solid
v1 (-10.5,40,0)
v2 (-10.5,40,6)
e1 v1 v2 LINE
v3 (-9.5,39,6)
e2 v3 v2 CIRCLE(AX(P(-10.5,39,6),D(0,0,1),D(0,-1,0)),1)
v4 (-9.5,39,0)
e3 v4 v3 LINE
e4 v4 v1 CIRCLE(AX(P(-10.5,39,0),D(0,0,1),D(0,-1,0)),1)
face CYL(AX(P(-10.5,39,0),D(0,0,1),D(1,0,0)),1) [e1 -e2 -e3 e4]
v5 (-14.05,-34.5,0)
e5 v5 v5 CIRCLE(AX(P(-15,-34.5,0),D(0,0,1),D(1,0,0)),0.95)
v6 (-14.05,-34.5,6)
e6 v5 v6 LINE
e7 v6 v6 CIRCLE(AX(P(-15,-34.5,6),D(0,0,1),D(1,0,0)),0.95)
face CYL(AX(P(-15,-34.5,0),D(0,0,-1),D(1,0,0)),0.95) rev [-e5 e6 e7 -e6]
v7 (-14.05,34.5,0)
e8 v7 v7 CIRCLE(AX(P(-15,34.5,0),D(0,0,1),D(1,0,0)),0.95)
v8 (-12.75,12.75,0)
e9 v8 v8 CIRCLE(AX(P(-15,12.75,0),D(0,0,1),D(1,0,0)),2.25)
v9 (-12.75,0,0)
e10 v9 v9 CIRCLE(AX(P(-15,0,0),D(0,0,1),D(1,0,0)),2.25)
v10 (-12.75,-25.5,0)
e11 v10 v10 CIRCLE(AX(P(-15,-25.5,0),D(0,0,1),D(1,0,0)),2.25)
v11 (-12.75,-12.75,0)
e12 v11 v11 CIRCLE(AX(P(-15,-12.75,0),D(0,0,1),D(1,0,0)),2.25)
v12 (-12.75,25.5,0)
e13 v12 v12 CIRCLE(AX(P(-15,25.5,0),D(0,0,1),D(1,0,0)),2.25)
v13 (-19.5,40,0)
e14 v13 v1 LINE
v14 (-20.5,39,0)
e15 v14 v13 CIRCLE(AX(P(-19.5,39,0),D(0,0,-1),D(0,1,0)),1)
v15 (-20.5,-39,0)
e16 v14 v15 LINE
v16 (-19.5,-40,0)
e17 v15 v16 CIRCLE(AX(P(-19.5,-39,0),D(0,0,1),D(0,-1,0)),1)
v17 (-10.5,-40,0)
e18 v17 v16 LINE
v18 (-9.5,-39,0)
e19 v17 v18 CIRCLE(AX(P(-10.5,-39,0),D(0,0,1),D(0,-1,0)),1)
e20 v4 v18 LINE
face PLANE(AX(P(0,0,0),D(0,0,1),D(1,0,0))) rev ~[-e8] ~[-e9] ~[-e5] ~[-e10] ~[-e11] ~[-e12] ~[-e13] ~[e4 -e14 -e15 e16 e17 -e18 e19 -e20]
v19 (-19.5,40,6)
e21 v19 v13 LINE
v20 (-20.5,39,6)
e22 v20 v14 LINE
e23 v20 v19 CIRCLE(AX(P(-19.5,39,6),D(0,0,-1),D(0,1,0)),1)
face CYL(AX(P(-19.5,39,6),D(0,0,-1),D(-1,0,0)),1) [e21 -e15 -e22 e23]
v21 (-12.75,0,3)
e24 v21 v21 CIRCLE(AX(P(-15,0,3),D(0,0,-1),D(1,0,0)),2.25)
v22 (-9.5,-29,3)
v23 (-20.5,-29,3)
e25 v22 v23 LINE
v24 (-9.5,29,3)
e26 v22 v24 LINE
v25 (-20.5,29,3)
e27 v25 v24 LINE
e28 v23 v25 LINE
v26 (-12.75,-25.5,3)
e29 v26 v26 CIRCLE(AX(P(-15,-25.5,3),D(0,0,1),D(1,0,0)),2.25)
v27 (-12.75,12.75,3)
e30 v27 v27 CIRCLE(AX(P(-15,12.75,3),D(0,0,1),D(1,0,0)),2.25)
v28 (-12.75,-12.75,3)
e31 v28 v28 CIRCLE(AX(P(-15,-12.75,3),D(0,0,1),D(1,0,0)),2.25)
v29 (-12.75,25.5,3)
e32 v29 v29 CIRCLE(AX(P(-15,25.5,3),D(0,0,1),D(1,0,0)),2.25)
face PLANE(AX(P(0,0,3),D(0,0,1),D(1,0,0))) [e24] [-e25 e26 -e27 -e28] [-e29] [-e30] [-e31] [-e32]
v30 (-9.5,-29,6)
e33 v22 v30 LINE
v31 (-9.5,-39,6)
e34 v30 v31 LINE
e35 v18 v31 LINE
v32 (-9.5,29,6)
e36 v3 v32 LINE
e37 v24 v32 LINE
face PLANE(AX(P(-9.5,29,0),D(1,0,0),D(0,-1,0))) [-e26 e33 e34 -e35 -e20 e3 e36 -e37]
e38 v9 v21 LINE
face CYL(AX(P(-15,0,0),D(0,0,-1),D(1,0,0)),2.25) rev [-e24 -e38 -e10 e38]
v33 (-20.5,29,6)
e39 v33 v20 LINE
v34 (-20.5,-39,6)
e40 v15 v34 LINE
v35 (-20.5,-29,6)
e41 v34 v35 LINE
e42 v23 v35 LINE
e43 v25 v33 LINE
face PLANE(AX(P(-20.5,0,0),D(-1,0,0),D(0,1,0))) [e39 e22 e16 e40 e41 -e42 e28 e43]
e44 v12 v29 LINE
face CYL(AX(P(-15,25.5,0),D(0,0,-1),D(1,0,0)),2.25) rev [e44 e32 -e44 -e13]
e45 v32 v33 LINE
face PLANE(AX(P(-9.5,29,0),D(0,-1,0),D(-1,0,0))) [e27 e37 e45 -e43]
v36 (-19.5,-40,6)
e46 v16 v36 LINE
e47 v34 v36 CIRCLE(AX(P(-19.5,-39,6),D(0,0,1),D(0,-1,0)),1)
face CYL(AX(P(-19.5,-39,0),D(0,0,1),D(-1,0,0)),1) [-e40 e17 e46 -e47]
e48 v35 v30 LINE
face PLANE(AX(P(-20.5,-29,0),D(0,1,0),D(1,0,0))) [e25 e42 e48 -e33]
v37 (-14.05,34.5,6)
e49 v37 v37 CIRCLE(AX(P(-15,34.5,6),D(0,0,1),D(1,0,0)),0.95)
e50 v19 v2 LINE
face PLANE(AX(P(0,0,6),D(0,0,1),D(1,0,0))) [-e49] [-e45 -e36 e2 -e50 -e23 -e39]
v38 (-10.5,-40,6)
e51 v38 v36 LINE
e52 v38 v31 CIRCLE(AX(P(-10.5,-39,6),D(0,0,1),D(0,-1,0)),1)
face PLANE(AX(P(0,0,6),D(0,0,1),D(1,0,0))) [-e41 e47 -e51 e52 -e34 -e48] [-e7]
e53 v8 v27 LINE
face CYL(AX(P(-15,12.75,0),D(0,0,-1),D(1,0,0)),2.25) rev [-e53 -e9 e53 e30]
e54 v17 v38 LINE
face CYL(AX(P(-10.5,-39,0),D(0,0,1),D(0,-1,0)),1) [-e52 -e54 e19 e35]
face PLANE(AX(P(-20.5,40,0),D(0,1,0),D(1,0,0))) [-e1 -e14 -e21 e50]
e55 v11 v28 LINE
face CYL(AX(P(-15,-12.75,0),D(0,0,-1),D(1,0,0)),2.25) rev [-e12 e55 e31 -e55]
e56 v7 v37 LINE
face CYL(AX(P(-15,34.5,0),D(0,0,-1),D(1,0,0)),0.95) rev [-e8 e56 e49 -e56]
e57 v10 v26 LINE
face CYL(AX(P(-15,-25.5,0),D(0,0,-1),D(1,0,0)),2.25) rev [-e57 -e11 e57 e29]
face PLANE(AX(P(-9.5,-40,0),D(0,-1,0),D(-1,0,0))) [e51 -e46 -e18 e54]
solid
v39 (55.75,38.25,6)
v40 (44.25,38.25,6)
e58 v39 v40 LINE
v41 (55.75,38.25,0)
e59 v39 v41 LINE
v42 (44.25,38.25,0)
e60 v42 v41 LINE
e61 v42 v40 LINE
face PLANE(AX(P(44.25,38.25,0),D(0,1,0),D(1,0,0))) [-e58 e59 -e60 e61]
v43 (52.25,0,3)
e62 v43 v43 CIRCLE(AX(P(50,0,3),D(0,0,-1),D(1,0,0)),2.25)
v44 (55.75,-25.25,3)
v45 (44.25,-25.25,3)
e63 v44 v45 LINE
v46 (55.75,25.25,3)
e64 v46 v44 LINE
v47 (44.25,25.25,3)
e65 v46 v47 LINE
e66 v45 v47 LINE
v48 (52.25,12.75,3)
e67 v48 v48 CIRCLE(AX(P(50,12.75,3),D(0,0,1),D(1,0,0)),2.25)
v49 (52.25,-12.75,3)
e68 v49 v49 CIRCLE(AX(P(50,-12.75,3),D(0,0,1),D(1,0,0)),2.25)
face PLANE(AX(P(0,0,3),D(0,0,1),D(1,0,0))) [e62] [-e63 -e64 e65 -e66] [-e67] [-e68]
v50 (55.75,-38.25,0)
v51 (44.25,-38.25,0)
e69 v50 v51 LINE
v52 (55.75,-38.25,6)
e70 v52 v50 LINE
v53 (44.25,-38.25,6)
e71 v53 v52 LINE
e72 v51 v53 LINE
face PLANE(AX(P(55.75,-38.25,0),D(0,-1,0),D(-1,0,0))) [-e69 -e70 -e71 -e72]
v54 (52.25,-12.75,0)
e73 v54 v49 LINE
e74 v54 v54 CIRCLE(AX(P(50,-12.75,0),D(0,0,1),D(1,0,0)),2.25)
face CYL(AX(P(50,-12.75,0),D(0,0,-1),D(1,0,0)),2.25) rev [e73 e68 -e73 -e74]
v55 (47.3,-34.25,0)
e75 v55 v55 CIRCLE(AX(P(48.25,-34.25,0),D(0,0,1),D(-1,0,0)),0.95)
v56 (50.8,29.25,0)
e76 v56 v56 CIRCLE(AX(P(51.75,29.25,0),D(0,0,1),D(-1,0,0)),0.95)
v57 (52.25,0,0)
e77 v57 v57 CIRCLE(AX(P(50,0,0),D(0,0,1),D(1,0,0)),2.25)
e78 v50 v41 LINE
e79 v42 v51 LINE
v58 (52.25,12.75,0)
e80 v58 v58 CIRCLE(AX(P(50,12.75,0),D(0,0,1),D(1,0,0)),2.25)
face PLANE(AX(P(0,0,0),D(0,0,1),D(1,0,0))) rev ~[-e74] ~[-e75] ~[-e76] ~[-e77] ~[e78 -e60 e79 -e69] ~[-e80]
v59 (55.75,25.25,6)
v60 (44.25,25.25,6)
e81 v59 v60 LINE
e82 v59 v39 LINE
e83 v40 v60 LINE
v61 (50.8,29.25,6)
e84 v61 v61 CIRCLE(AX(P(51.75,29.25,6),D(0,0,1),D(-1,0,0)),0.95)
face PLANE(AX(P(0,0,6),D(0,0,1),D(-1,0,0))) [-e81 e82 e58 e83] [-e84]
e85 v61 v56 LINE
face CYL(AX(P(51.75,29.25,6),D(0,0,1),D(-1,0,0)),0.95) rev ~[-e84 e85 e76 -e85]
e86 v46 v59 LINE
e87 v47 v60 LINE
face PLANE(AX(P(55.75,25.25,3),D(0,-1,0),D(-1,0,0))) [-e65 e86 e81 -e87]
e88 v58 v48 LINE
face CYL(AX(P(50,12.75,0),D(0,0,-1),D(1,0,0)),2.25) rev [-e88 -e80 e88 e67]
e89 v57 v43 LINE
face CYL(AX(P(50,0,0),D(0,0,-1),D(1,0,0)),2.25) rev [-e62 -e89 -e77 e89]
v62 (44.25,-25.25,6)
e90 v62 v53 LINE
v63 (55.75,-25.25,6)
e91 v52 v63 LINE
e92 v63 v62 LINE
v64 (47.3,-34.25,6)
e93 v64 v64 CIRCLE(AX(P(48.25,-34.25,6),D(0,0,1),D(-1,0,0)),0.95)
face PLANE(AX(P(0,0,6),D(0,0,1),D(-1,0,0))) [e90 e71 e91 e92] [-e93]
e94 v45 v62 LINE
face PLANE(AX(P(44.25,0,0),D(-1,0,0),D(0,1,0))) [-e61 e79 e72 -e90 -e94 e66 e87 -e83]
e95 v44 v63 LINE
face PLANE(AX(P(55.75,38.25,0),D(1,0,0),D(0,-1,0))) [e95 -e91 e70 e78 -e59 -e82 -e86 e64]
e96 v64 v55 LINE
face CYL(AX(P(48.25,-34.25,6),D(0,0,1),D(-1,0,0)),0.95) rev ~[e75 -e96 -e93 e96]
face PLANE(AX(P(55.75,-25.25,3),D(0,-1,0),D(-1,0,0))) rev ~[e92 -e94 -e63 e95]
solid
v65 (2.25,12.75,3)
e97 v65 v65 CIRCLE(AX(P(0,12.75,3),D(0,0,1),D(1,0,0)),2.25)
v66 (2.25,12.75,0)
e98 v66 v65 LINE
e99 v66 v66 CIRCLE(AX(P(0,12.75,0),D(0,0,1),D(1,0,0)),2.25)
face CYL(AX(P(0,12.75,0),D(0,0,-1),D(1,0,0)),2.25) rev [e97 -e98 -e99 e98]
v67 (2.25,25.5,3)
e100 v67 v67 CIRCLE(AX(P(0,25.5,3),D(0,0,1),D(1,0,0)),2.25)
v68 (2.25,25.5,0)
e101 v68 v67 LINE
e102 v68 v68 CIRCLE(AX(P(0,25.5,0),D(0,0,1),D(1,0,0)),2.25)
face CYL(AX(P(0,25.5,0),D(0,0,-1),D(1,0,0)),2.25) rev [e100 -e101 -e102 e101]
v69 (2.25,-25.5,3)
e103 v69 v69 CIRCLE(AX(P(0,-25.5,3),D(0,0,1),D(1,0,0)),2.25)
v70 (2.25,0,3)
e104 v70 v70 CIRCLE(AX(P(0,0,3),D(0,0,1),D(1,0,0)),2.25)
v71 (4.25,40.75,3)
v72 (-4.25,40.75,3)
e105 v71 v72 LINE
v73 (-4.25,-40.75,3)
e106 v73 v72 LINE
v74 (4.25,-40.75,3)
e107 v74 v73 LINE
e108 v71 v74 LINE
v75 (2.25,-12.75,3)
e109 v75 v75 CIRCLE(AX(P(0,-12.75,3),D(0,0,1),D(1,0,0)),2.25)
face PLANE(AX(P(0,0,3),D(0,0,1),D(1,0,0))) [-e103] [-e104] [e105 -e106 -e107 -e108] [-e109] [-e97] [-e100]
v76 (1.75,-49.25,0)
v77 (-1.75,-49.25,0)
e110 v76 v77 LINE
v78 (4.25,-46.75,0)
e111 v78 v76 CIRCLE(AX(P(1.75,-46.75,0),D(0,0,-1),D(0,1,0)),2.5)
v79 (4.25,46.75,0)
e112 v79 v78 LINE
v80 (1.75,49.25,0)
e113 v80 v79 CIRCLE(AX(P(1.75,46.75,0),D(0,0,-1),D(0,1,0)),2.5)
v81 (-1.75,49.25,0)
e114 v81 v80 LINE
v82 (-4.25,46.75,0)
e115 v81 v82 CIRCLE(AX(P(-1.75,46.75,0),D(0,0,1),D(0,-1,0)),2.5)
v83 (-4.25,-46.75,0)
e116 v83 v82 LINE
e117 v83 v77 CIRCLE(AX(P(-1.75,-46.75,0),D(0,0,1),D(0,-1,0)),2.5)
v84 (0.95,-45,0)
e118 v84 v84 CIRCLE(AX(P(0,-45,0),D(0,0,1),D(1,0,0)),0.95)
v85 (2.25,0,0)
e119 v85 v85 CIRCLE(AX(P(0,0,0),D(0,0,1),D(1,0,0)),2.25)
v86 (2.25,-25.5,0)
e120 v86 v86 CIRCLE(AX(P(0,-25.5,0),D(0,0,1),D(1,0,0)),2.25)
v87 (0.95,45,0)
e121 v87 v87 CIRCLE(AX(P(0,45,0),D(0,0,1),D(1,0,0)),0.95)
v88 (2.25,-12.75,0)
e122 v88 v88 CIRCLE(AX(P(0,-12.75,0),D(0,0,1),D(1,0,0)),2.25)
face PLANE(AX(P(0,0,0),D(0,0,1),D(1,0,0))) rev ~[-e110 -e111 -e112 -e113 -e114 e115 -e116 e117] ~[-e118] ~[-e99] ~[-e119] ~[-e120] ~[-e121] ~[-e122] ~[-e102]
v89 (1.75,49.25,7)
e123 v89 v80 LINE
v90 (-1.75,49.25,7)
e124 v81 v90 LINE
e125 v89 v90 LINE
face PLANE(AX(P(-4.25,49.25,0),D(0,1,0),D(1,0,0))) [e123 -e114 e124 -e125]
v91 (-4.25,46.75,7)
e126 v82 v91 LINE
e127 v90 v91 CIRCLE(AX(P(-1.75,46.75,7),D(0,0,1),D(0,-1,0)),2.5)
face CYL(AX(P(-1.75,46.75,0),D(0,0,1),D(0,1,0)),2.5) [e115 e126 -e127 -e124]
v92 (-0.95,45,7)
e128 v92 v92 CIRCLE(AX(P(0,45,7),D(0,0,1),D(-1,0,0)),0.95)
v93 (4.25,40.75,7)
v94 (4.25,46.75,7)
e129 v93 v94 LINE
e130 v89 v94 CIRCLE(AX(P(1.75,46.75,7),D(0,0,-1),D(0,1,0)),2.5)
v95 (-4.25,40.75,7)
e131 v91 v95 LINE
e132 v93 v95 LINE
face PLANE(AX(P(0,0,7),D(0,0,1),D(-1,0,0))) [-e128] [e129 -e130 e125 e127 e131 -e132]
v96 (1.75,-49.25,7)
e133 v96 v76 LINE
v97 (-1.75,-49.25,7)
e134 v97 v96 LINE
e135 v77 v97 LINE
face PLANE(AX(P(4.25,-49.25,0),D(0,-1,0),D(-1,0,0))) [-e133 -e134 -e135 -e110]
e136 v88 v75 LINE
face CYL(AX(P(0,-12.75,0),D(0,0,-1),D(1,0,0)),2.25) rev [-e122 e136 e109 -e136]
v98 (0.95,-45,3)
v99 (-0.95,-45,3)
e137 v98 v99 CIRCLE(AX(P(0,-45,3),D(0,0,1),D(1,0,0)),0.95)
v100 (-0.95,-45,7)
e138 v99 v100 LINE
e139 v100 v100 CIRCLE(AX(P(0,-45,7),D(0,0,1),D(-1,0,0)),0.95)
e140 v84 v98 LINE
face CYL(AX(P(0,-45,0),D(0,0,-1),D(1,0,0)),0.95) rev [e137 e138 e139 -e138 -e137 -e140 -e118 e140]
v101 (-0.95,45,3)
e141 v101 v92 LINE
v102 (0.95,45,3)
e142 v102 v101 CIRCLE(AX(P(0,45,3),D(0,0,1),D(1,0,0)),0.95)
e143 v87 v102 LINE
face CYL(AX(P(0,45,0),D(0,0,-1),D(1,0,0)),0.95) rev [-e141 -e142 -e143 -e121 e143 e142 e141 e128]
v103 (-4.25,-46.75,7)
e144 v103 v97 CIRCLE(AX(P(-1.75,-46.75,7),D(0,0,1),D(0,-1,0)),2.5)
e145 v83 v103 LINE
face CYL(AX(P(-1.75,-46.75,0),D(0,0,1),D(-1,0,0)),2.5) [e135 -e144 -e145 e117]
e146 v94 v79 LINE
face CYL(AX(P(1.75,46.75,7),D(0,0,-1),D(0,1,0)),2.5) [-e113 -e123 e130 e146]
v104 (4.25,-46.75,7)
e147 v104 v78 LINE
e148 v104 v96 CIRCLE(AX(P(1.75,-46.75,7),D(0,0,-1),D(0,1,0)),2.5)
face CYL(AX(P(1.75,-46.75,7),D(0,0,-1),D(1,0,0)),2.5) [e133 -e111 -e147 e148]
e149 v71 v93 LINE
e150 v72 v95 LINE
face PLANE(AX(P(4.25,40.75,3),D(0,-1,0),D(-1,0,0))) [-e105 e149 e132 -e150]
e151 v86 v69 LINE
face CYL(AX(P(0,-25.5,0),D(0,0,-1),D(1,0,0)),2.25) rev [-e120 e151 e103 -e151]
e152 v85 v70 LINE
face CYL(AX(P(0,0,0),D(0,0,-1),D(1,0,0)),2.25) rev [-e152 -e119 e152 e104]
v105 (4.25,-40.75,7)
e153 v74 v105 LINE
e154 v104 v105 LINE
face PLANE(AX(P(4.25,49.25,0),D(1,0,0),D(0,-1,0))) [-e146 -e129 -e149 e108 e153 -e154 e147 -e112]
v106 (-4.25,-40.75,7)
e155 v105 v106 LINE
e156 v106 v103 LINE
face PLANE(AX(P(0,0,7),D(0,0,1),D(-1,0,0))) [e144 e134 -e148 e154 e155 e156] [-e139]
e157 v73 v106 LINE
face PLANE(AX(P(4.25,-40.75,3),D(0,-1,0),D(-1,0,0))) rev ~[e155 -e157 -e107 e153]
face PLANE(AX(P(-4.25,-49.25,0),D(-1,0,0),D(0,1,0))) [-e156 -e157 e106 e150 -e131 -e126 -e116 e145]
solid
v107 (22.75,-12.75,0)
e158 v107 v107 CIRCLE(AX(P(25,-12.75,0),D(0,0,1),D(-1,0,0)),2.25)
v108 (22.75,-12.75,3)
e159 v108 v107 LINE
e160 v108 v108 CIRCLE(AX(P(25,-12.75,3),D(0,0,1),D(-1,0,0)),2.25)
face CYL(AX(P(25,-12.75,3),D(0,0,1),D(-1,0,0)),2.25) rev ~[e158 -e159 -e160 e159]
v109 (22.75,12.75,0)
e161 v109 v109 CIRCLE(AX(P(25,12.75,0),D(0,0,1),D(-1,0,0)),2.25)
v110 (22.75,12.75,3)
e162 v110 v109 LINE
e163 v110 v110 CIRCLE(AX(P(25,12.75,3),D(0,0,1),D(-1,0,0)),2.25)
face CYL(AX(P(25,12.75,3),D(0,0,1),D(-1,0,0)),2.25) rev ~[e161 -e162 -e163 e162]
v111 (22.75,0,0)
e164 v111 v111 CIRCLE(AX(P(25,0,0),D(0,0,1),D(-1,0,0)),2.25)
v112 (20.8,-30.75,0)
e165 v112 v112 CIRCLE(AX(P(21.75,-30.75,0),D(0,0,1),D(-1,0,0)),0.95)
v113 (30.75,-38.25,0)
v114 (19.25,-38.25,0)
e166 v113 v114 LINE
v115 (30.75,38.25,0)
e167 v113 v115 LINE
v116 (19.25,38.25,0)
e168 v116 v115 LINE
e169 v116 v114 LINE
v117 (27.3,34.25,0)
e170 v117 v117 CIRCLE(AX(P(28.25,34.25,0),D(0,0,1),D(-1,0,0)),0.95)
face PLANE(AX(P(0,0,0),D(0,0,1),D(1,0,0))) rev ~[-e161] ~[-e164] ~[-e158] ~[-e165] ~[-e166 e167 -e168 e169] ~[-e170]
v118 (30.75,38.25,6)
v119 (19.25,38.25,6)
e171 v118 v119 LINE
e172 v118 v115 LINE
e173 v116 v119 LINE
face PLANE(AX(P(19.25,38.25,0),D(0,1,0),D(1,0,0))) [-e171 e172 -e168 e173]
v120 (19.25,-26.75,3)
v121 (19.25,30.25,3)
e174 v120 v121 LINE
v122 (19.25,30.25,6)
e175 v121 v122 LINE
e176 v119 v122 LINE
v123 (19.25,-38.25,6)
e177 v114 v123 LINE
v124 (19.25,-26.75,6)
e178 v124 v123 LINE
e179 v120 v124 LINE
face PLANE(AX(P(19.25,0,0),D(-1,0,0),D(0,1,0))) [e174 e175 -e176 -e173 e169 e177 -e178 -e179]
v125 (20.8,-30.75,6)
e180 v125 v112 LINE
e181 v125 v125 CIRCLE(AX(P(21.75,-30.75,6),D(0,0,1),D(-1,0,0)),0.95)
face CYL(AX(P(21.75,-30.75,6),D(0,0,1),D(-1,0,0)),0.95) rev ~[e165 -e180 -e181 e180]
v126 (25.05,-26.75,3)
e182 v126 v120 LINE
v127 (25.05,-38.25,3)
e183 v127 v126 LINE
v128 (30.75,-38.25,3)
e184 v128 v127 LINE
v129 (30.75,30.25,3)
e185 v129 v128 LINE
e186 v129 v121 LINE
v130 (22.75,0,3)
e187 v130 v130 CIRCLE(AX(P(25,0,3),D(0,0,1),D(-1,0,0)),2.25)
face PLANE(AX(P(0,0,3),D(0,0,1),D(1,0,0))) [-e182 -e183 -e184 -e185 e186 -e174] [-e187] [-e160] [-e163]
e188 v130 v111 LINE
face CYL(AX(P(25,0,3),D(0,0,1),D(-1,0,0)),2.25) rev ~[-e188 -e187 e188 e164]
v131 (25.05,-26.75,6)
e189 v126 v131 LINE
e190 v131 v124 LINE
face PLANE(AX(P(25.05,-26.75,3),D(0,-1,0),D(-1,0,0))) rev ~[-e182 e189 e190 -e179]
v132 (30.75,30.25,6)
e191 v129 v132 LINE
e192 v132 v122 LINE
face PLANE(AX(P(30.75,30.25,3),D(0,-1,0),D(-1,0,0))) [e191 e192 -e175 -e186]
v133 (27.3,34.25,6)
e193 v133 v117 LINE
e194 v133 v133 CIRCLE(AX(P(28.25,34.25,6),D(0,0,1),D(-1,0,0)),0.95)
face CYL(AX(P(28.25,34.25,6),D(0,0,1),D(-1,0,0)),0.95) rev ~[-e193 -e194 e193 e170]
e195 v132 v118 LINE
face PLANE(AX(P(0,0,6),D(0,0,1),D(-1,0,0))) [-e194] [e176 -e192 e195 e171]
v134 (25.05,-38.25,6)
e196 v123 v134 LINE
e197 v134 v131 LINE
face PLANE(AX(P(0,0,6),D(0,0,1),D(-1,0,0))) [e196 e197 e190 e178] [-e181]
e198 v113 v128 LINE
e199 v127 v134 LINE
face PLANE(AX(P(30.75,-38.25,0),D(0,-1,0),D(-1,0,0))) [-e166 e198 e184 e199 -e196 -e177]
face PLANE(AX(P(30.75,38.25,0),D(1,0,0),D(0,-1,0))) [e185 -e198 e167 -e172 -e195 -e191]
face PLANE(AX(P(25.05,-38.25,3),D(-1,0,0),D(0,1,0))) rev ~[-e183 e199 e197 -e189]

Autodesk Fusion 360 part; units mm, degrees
sketch "Sketch1" plane through (0, 0, 0) normal (0, 0, 1) x (1, 0, 0) in component "CCM Dual Ethernet v2.a"
  circle A0 centre (0, 45) radius 0.95
  circle A1 centre (0, 0) radius 2.25
  line L0 (-56, 0) -> (64, 0) construction
  circle A2 centre (0, -45) radius 0.95
  line L1 (-4.25, 49.25) -> (4.25, 49.25)
  line L2 (4.25, 49.25) -> (4.25, -49.25)
  line L3 (4.25, -49.25) -> (-4.25, -49.25)
  line L4 (-4.25, -49.25) -> (-4.25, 49.25)
  circle A3 centre (0, -25.5) radius 2.25
  circle A4 centre (0, -12.75) radius 2.25
  circle A5 centre (0, 12.75) radius 2.25
  circle A6 centre (0, 25.5) radius 2.25
  dimension "d3" = 1.9
  dimension "d4" = 4.5
  dimension "d5" = 45
  dimension "d6" = 4.25
  dimension "d8" = 4.25
  dimension "d9" = 4.25
  dimension "d10" = 4.25
  dimension "d14" = 0
  dimension "d15" = 12.75
extrude "Extrude1" add sketch "Sketch1" along normal blind 3 makes body 1 in component "CCM Dual Ethernet v2.a"
sketch "Sketch2" plane through (0, 0, 3) normal (0, 0, 1) x (-1, 0, 0) in component "CCM Dual Ethernet v2.a"
  circle A0 centre (0, -25.5) radius 2.25
  circle A1 centre (0, -12.75) radius 2.25
  circle A2 centre (0, 12.75) radius 2.25
  circle A3 centre (0, 0) radius 2.25
  circle A4 centre (0, -45) radius 0.95
  circle A5 centre (0, 45) radius 0.95
  circle A6 centre (0, 25.5) radius 2.25
  line L0 (4.25, 49.25) -> (-4.25, 49.25)
  line L1 (-4.25, 49.25) -> (-4.25, -49.25)
  line L2 (-4.25, -49.25) -> (4.25, -49.25)
  line L3 (4.25, -49.25) -> (4.25, 49.25)
  line L4 (4.25, -49.25) -> (-4.25, -49.25)
  line L5 (-4.25, -49.25) -> (-4.25, -40.75)
  line L6 (-4.25, -40.75) -> (4.25, -40.75)
  line L7 (4.25, -40.75) -> (4.25, -49.25)
  line L8 (56, 0) -> (-64, 0)
  line L9 (4.25, 49.25) -> (-4.25, 49.25)
  line L10 (-4.25, 40.75) -> (4.25, 40.75)
  line L11 (-4.25, 49.25) -> (-4.25, 40.75)
  line L12 (4.25, 40.75) -> (4.25, 49.25)
extrude "Extrude2" add sketch "Sketch2" along normal blind 4 contours L1 L2 L3 L4 L5 L6 L7 | L0 L1 L3 L9 L10 L11 L12 bodies 1 in component "CCM Dual Ethernet v2.a"
fillet "Fillet1" radius 2.5 4 edges at (4.25, -49.25, 3.5) (-4.25, -49.25, 3.5) (4.25, 49.25, 3.5) (-4.25, 49.25, 3.5) on bodies 1 in component "CCM Dual Ethernet v2.a"
copy_body "CutPasteBodies1" bodies 1 removing the originals makes body 2 in component "CCM Dual Ethernet v2.a"
sketch "Sketch1 (2)" plane through (0, 0, 0) normal (0, 0, 1) x (1, 0, 0) in component "LeftMount"
  line L0 (19.25, 38.25) -> (30.75, 38.25)
  line L1 (30.75, 38.25) -> (30.75, -38.25)
  line L2 (30.75, -38.25) -> (19.25, -38.25)
  line L3 (19.25, -38.25) -> (19.25, 38.25)
  line L4 (19.25, 38.25) -> (30.75, -38.25) construction
  line L5 (30.75, 38.25) -> (19.25, -38.25) construction
  line L6 (-56, 0) -> (64, 0)
  point P0 (25, 0)
  dimension "d24" = 11.5
  dimension "d25" = 76.5
extrude "Extrude1'" add sketch "Sketch1 (2)" along normal blind 3 separate body makes body 3 in component "LeftMount"
sketch "Sketch2 (2)" plane through (0, 0, 3) normal (0, 0, 1) x (-1, 0, 0) in component "LeftMount"
  line L0 (-19.25, 38.25) -> (-30.75, 38.25)
  line L1 (-30.75, 38.25) -> (-30.75, -38.25)
  line L2 (-30.75, -38.25) -> (-19.25, -38.25)
  line L3 (-19.25, -38.25) -> (-19.25, 38.25)
  line L4 (-19.25, -38.25) -> (-30.75, -38.25)
  line L5 (-30.75, -38.25) -> (-30.75, -30.25)
  line L6 (-30.75, -30.25) -> (-19.25, -30.25)
  line L7 (-19.25, -30.25) -> (-19.25, -38.25)
  line L8 (-19.25, 38.25) -> (-25.05, 38.25)
  line L9 (-25.05, 38.25) -> (-25.05, 26.75)
  line L10 (-25.05, 26.75) -> (-19.25, 26.75)
  line L11 (-19.25, 26.75) -> (-19.25, 38.25)
  dimension "d28" = 8
  dimension "d29" = 11.5
  dimension "d32" = 5.8
extrude "Extrude2'" add sketch "Sketch2 (2)" along normal blind 3 contours L0 L3 L8 L9 L10 L11 | L1 L2 L3 L4 L5 L6 L7 bodies 3 in component "LeftMount"
sketch "Sketch3" plane through (0, 0, 6) normal (0, 0, 1) x (-1, 0, 0) in component "LeftMount"
  line L0 (-19.25, -30.25) -> (-30.75, -30.25)
  line L1 (-30.75, -30.25) -> (-30.75, -38.25)
  line L2 (-30.75, -38.25) -> (-19.25, -38.25)
  line L3 (-19.25, -38.25) -> (-19.25, -30.25)
  circle A0 centre (-28.25, -34.25) radius 0.95
  circle A1 centre (-21.75, 30.75) radius 0.95
  line L4 (-19.25, 26.75) -> (-19.25, 38.25)
  line L5 (-25.05, 26.75) -> (-19.25, 26.75)
  dimension "d33" = 1.9
  dimension "d35" = 9
  dimension "d36" = 4
  dimension "d37" = 1.9
  dimension "d38" = 2.5
  dimension "d39" = 4
extrude "Extrude3" cut sketch "Sketch3" against normal up to surface (6 mm away) contours A0 | A1 bodies 3 in component "LeftMount"
sketch "Sketch4" plane through (0, 0, 3) normal (0, 0, 1) x (-1, 0, 0) in component "LeftMount"
  line L0 (-30.75, -30.25) -> (-19.25, -30.25)
  line L1 (-19.25, -30.25) -> (-19.25, 26.75)
  line L2 (-19.25, 26.75) -> (-25.05, 26.75)
  line L3 (-25.05, 26.75) -> (-25.05, 38.25)
  line L4 (-25.05, 38.25) -> (-30.75, 38.25)
  line L5 (-30.75, 38.25) -> (-30.75, -30.25)
  circle A0 centre (-25, 0) radius 2.25
  circle A1 centre (-25, -12.75) radius 2.25
  circle A2 centre (-25, 12.75) radius 2.25
  dimension "d42" = 4.5
  dimension "d43" = 5.75
  dimension "d46" = 0
  dimension "d47" = 12.75
extrude "Extrude4" cut sketch "Sketch4" against normal up to surface (3 mm away) contours A0 | A1 | A2 bodies 3 in component "LeftMount"
sketch "Sketch1 (3)" plane through (0, 0, 0) normal (0, 0, 1) x (1, 0, 0) in component "RightMount"
  line L0 (44.25, 38.25) -> (55.75, 38.25)
  line L1 (55.75, 38.25) -> (55.75, -38.25)
  line L2 (55.75, -38.25) -> (44.25, -38.25)
  line L3 (44.25, -38.25) -> (44.25, 38.25)
  line L4 (44.25, 38.25) -> (55.75, -38.25) construction
  line L5 (55.75, 38.25) -> (44.25, -38.25) construction
  line L6 (-56, 0) -> (64, 0)
  circle A0 centre (50, 0) radius 2.25
  circle A1 centre (50, -12.75) radius 2.25
  circle A2 centre (50, 12.75) radius 2.25
  point P0 (50, 0)
  dimension "d50" = 11.5
  dimension "d51" = 76.5
  dimension "d52" = 4.5
  dimension "d55" = 0
  dimension "d56" = 12.75
extrude "Extrude1''" add sketch "Sketch1 (3)" along normal blind 3 separate body contours L0 L1 L3 L6 A0 | L1 L2 L3 L6 A0 makes body 4 in component "RightMount"
sketch "Sketch2 (3)" plane through (0, 0, 3) normal (0, 0, 1) x (-1, 0, 0) in component "RightMount"
  circle A0 centre (-50, 0) radius 2.25
  circle A1 centre (-50, 12.75) radius 2.25
  circle A2 centre (-50, -12.75) radius 2.25
  line L0 (-44.25, 38.25) -> (-55.75, 38.25)
  line L1 (-55.75, 38.25) -> (-55.75, -38.25)
  line L2 (-55.75, -38.25) -> (-44.25, -38.25)
  line L3 (-44.25, -38.25) -> (-44.25, 38.25)
  line L4 (-44.25, -38.25) -> (-55.75, -38.25)
  line L5 (-55.75, -38.25) -> (-55.75, -25.25)
  line L6 (-55.75, -25.25) -> (-44.25, -25.25)
  line L7 (-44.25, -25.25) -> (-44.25, -38.25)
  line L8 (-44.25, 38.25) -> (-55.75, 38.25)
  line L9 (-55.75, 38.25) -> (-55.75, 25.25)
  line L10 (-55.75, 25.25) -> (-44.25, 25.25)
  line L11 (-44.25, 25.25) -> (-44.25, 38.25)
  dimension "d59" = 13
  dimension "d60" = 13
extrude "Extrude2''" add sketch "Sketch2 (3)" along normal blind 3 contours L0 L1 L3 L8 L9 L10 L11 | L1 L2 L3 L4 L5 L6 L7 bodies 4 in component "RightMount"
sketch "Sketch3 (2)" plane through (0, 0, 6) normal (0, 0, 1) x (-1, 0, 0) in component "RightMount"
  line L0 (-44.25, -25.25) -> (-55.75, -25.25)
  line L1 (-55.75, -25.25) -> (-55.75, -38.25)
  line L2 (-55.75, -38.25) -> (-44.25, -38.25)
  line L3 (-44.25, -38.25) -> (-44.25, -25.25)
  circle A0 centre (-51.75, -29.25) radius 0.95
  circle A1 centre (-48.25, 34.25) radius 0.95
  line L4 (-44.25, 25.25) -> (-44.25, 38.25)
  line L5 (-44.25, 38.25) -> (-55.75, 38.25)
  dimension "d63" = 1.9
  dimension "d64" = 4
  dimension "d65" = 4
  dimension "d66" = 1.9
  dimension "d67" = 4
  dimension "d68" = 4
extrude "Extrude3'" cut sketch "Sketch3 (2)" against normal up to surface (6 mm away) contours A0 | A1 bodies 4 in component "RightMount"
sketch "Mount Base" plane through (0, 0, 0) normal (0, 0, 1) x (1, 0, 0) in component "Spring Fingers v2.a"
  circle A0 centre (-15, 34.5) radius 0.95
  line L0 (-56, 0) -> (64, 0)
  circle A1 centre (-15, -34.5) radius 0.95
  line L1 (-20.5, 40) -> (-9.5, 40)
  line L2 (-9.5, 40) -> (-9.5, -40)
  line L3 (-9.5, -40) -> (-20.5, -40)
  line L4 (-20.5, -40) -> (-20.5, 40)
  line L5 (-9.5, 29) -> (-20.5, 29)
  line L6 (-20.5, 29) -> (-20.5, 40)
  line L7 (-20.5, 40) -> (-9.5, 40)
  line L8 (-9.5, 40) -> (-9.5, 29)
  line L9 (-9.5, 29) -> (-20.5, 40) construction
  line L10 (-20.5, 29) -> (-9.5, 40) construction
  line L11 (-9.5, -40) -> (-20.5, -40)
  line L12 (-20.5, -40) -> (-20.5, -29)
  line L13 (-20.5, -29) -> (-9.5, -29)
  line L14 (-9.5, -29) -> (-9.5, -40)
  line L15 (-9.5, -40) -> (-20.5, -29) construction
  line L16 (-20.5, -40) -> (-9.5, -29) construction
  circle A2 centre (-15, 0) radius 2.25
  circle A3 centre (-15, -25.5) radius 2.25
  circle A4 centre (-15, -12.75) radius 2.25
  circle A5 centre (-15, 12.75) radius 2.25
  circle A6 centre (-15, 25.5) radius 2.25
  point P0 (-15, 34.5)
  point P1 (-15, -34.5)
  dimension "d71" = 1.9
  dimension "d72" = 34.5
  dimension "d73" = 5.5
  dimension "d74" = 5.5
  dimension "d75" = 5.5
  dimension "d76" = 5.5
  dimension "d82" = 4.5
  dimension "d85" = 0
  dimension "d86" = 12.75
extrude "Extrude1'''" add sketch "Mount Base" along normal blind 3 separate body contours L0 L2 L4 L5 A2 | L0 L2 L4 L13 A2 | L2 L3 L4 L11 L12 L13 L14 | L1 L2 L4 L5 L6 L7 L8 makes body 5 in component "Spring Fingers v2.a"
extrude "Extrude2'''" add sketch "Mount Base" along normal blind 6 contours L2 L3 L4 L11 L12 L13 L14 | L1 L2 L4 L5 L6 L7 L8 bodies 5 in component "Spring Fingers v2.a"
fillet "Fillet1'" radius 1 4 edges at (-9.5, -40, 3) (-20.5, -40, 3) (-9.5, 40, 3) (-20.5, 40, 3) on bodies 5 in component "Spring Fingers v2.a"
component "CCM Dual Ethernet v2.a" placed x (1, 0, 0) y (0, 1, 0) z (0, 0, 1) at (0, 0, 0)
component "Project Lab v3.e" placed x (1, 0, 0) y (0, 1, 0) z (0, 0, 1) at (0, 0, 0)
component "Spring Fingers v2.a" placed x (1, 0, 0) y (0, 1, 0) z (0, 0, 1) at (0, 0, 0)
component "LeftMount" placed x (1, 0, 0) y (0, 1, 0) z (0, 0, 1) at (0, 0, 0) in component "Project Lab v3.e"
component "RightMount" placed x (1, 0, 0) y (0, 1, 0) z (0, 0, 1) at (0, 0, 0) in component "Project Lab v3.e"
equation "PCBMountingHoleDiameter = 1.9 mm"
equation "DINMountingHoleDiameter = 4.5 mm"
equation "d3 = PCBMountingHoleDiameter"
equation "d4 = DINMountingHoleDiameter"
equation "d6 = ( DINMountingHoleDiameter / 2 ) + MinimumHoleToEdge"
equation "MinimumHoleToEdge = 2 mm"
equation "d8 = d6"
equation "d9 = d6"
equation "d10 = d6"
equation "MountThickness = 3 mm"
equation "d16 = MountThickness"
equation "d26 = MountThickness"
equation "d30 = MountThickness"
equation "d33 = PCBMountingHoleDiameter"
equation "d37 = PCBMountingHoleDiameter"
equation "d42 = DINMountingHoleDiameter"
equation "d43 = ( 11.5 / 2 ) * 1 mm"
equation "d52 = DINMountingHoleDiameter"
equation "d57 = MountThickness"
equation "d61 = MountThickness"
equation "d63 = PCBMountingHoleDiameter"
equation "d66 = PCBMountingHoleDiameter"
equation "d71 = PCBMountingHoleDiameter"
equation "d73 = DINMountingHoleDiameter + 1 mm"
equation "d74 = d73"
equation "d75 = d73"
equation "d76 = d73"
equation "d77 = MountThickness"
equation "d79 = 2 * MountThickness"
equation "d82 = DINMountingHoleDiameter"
